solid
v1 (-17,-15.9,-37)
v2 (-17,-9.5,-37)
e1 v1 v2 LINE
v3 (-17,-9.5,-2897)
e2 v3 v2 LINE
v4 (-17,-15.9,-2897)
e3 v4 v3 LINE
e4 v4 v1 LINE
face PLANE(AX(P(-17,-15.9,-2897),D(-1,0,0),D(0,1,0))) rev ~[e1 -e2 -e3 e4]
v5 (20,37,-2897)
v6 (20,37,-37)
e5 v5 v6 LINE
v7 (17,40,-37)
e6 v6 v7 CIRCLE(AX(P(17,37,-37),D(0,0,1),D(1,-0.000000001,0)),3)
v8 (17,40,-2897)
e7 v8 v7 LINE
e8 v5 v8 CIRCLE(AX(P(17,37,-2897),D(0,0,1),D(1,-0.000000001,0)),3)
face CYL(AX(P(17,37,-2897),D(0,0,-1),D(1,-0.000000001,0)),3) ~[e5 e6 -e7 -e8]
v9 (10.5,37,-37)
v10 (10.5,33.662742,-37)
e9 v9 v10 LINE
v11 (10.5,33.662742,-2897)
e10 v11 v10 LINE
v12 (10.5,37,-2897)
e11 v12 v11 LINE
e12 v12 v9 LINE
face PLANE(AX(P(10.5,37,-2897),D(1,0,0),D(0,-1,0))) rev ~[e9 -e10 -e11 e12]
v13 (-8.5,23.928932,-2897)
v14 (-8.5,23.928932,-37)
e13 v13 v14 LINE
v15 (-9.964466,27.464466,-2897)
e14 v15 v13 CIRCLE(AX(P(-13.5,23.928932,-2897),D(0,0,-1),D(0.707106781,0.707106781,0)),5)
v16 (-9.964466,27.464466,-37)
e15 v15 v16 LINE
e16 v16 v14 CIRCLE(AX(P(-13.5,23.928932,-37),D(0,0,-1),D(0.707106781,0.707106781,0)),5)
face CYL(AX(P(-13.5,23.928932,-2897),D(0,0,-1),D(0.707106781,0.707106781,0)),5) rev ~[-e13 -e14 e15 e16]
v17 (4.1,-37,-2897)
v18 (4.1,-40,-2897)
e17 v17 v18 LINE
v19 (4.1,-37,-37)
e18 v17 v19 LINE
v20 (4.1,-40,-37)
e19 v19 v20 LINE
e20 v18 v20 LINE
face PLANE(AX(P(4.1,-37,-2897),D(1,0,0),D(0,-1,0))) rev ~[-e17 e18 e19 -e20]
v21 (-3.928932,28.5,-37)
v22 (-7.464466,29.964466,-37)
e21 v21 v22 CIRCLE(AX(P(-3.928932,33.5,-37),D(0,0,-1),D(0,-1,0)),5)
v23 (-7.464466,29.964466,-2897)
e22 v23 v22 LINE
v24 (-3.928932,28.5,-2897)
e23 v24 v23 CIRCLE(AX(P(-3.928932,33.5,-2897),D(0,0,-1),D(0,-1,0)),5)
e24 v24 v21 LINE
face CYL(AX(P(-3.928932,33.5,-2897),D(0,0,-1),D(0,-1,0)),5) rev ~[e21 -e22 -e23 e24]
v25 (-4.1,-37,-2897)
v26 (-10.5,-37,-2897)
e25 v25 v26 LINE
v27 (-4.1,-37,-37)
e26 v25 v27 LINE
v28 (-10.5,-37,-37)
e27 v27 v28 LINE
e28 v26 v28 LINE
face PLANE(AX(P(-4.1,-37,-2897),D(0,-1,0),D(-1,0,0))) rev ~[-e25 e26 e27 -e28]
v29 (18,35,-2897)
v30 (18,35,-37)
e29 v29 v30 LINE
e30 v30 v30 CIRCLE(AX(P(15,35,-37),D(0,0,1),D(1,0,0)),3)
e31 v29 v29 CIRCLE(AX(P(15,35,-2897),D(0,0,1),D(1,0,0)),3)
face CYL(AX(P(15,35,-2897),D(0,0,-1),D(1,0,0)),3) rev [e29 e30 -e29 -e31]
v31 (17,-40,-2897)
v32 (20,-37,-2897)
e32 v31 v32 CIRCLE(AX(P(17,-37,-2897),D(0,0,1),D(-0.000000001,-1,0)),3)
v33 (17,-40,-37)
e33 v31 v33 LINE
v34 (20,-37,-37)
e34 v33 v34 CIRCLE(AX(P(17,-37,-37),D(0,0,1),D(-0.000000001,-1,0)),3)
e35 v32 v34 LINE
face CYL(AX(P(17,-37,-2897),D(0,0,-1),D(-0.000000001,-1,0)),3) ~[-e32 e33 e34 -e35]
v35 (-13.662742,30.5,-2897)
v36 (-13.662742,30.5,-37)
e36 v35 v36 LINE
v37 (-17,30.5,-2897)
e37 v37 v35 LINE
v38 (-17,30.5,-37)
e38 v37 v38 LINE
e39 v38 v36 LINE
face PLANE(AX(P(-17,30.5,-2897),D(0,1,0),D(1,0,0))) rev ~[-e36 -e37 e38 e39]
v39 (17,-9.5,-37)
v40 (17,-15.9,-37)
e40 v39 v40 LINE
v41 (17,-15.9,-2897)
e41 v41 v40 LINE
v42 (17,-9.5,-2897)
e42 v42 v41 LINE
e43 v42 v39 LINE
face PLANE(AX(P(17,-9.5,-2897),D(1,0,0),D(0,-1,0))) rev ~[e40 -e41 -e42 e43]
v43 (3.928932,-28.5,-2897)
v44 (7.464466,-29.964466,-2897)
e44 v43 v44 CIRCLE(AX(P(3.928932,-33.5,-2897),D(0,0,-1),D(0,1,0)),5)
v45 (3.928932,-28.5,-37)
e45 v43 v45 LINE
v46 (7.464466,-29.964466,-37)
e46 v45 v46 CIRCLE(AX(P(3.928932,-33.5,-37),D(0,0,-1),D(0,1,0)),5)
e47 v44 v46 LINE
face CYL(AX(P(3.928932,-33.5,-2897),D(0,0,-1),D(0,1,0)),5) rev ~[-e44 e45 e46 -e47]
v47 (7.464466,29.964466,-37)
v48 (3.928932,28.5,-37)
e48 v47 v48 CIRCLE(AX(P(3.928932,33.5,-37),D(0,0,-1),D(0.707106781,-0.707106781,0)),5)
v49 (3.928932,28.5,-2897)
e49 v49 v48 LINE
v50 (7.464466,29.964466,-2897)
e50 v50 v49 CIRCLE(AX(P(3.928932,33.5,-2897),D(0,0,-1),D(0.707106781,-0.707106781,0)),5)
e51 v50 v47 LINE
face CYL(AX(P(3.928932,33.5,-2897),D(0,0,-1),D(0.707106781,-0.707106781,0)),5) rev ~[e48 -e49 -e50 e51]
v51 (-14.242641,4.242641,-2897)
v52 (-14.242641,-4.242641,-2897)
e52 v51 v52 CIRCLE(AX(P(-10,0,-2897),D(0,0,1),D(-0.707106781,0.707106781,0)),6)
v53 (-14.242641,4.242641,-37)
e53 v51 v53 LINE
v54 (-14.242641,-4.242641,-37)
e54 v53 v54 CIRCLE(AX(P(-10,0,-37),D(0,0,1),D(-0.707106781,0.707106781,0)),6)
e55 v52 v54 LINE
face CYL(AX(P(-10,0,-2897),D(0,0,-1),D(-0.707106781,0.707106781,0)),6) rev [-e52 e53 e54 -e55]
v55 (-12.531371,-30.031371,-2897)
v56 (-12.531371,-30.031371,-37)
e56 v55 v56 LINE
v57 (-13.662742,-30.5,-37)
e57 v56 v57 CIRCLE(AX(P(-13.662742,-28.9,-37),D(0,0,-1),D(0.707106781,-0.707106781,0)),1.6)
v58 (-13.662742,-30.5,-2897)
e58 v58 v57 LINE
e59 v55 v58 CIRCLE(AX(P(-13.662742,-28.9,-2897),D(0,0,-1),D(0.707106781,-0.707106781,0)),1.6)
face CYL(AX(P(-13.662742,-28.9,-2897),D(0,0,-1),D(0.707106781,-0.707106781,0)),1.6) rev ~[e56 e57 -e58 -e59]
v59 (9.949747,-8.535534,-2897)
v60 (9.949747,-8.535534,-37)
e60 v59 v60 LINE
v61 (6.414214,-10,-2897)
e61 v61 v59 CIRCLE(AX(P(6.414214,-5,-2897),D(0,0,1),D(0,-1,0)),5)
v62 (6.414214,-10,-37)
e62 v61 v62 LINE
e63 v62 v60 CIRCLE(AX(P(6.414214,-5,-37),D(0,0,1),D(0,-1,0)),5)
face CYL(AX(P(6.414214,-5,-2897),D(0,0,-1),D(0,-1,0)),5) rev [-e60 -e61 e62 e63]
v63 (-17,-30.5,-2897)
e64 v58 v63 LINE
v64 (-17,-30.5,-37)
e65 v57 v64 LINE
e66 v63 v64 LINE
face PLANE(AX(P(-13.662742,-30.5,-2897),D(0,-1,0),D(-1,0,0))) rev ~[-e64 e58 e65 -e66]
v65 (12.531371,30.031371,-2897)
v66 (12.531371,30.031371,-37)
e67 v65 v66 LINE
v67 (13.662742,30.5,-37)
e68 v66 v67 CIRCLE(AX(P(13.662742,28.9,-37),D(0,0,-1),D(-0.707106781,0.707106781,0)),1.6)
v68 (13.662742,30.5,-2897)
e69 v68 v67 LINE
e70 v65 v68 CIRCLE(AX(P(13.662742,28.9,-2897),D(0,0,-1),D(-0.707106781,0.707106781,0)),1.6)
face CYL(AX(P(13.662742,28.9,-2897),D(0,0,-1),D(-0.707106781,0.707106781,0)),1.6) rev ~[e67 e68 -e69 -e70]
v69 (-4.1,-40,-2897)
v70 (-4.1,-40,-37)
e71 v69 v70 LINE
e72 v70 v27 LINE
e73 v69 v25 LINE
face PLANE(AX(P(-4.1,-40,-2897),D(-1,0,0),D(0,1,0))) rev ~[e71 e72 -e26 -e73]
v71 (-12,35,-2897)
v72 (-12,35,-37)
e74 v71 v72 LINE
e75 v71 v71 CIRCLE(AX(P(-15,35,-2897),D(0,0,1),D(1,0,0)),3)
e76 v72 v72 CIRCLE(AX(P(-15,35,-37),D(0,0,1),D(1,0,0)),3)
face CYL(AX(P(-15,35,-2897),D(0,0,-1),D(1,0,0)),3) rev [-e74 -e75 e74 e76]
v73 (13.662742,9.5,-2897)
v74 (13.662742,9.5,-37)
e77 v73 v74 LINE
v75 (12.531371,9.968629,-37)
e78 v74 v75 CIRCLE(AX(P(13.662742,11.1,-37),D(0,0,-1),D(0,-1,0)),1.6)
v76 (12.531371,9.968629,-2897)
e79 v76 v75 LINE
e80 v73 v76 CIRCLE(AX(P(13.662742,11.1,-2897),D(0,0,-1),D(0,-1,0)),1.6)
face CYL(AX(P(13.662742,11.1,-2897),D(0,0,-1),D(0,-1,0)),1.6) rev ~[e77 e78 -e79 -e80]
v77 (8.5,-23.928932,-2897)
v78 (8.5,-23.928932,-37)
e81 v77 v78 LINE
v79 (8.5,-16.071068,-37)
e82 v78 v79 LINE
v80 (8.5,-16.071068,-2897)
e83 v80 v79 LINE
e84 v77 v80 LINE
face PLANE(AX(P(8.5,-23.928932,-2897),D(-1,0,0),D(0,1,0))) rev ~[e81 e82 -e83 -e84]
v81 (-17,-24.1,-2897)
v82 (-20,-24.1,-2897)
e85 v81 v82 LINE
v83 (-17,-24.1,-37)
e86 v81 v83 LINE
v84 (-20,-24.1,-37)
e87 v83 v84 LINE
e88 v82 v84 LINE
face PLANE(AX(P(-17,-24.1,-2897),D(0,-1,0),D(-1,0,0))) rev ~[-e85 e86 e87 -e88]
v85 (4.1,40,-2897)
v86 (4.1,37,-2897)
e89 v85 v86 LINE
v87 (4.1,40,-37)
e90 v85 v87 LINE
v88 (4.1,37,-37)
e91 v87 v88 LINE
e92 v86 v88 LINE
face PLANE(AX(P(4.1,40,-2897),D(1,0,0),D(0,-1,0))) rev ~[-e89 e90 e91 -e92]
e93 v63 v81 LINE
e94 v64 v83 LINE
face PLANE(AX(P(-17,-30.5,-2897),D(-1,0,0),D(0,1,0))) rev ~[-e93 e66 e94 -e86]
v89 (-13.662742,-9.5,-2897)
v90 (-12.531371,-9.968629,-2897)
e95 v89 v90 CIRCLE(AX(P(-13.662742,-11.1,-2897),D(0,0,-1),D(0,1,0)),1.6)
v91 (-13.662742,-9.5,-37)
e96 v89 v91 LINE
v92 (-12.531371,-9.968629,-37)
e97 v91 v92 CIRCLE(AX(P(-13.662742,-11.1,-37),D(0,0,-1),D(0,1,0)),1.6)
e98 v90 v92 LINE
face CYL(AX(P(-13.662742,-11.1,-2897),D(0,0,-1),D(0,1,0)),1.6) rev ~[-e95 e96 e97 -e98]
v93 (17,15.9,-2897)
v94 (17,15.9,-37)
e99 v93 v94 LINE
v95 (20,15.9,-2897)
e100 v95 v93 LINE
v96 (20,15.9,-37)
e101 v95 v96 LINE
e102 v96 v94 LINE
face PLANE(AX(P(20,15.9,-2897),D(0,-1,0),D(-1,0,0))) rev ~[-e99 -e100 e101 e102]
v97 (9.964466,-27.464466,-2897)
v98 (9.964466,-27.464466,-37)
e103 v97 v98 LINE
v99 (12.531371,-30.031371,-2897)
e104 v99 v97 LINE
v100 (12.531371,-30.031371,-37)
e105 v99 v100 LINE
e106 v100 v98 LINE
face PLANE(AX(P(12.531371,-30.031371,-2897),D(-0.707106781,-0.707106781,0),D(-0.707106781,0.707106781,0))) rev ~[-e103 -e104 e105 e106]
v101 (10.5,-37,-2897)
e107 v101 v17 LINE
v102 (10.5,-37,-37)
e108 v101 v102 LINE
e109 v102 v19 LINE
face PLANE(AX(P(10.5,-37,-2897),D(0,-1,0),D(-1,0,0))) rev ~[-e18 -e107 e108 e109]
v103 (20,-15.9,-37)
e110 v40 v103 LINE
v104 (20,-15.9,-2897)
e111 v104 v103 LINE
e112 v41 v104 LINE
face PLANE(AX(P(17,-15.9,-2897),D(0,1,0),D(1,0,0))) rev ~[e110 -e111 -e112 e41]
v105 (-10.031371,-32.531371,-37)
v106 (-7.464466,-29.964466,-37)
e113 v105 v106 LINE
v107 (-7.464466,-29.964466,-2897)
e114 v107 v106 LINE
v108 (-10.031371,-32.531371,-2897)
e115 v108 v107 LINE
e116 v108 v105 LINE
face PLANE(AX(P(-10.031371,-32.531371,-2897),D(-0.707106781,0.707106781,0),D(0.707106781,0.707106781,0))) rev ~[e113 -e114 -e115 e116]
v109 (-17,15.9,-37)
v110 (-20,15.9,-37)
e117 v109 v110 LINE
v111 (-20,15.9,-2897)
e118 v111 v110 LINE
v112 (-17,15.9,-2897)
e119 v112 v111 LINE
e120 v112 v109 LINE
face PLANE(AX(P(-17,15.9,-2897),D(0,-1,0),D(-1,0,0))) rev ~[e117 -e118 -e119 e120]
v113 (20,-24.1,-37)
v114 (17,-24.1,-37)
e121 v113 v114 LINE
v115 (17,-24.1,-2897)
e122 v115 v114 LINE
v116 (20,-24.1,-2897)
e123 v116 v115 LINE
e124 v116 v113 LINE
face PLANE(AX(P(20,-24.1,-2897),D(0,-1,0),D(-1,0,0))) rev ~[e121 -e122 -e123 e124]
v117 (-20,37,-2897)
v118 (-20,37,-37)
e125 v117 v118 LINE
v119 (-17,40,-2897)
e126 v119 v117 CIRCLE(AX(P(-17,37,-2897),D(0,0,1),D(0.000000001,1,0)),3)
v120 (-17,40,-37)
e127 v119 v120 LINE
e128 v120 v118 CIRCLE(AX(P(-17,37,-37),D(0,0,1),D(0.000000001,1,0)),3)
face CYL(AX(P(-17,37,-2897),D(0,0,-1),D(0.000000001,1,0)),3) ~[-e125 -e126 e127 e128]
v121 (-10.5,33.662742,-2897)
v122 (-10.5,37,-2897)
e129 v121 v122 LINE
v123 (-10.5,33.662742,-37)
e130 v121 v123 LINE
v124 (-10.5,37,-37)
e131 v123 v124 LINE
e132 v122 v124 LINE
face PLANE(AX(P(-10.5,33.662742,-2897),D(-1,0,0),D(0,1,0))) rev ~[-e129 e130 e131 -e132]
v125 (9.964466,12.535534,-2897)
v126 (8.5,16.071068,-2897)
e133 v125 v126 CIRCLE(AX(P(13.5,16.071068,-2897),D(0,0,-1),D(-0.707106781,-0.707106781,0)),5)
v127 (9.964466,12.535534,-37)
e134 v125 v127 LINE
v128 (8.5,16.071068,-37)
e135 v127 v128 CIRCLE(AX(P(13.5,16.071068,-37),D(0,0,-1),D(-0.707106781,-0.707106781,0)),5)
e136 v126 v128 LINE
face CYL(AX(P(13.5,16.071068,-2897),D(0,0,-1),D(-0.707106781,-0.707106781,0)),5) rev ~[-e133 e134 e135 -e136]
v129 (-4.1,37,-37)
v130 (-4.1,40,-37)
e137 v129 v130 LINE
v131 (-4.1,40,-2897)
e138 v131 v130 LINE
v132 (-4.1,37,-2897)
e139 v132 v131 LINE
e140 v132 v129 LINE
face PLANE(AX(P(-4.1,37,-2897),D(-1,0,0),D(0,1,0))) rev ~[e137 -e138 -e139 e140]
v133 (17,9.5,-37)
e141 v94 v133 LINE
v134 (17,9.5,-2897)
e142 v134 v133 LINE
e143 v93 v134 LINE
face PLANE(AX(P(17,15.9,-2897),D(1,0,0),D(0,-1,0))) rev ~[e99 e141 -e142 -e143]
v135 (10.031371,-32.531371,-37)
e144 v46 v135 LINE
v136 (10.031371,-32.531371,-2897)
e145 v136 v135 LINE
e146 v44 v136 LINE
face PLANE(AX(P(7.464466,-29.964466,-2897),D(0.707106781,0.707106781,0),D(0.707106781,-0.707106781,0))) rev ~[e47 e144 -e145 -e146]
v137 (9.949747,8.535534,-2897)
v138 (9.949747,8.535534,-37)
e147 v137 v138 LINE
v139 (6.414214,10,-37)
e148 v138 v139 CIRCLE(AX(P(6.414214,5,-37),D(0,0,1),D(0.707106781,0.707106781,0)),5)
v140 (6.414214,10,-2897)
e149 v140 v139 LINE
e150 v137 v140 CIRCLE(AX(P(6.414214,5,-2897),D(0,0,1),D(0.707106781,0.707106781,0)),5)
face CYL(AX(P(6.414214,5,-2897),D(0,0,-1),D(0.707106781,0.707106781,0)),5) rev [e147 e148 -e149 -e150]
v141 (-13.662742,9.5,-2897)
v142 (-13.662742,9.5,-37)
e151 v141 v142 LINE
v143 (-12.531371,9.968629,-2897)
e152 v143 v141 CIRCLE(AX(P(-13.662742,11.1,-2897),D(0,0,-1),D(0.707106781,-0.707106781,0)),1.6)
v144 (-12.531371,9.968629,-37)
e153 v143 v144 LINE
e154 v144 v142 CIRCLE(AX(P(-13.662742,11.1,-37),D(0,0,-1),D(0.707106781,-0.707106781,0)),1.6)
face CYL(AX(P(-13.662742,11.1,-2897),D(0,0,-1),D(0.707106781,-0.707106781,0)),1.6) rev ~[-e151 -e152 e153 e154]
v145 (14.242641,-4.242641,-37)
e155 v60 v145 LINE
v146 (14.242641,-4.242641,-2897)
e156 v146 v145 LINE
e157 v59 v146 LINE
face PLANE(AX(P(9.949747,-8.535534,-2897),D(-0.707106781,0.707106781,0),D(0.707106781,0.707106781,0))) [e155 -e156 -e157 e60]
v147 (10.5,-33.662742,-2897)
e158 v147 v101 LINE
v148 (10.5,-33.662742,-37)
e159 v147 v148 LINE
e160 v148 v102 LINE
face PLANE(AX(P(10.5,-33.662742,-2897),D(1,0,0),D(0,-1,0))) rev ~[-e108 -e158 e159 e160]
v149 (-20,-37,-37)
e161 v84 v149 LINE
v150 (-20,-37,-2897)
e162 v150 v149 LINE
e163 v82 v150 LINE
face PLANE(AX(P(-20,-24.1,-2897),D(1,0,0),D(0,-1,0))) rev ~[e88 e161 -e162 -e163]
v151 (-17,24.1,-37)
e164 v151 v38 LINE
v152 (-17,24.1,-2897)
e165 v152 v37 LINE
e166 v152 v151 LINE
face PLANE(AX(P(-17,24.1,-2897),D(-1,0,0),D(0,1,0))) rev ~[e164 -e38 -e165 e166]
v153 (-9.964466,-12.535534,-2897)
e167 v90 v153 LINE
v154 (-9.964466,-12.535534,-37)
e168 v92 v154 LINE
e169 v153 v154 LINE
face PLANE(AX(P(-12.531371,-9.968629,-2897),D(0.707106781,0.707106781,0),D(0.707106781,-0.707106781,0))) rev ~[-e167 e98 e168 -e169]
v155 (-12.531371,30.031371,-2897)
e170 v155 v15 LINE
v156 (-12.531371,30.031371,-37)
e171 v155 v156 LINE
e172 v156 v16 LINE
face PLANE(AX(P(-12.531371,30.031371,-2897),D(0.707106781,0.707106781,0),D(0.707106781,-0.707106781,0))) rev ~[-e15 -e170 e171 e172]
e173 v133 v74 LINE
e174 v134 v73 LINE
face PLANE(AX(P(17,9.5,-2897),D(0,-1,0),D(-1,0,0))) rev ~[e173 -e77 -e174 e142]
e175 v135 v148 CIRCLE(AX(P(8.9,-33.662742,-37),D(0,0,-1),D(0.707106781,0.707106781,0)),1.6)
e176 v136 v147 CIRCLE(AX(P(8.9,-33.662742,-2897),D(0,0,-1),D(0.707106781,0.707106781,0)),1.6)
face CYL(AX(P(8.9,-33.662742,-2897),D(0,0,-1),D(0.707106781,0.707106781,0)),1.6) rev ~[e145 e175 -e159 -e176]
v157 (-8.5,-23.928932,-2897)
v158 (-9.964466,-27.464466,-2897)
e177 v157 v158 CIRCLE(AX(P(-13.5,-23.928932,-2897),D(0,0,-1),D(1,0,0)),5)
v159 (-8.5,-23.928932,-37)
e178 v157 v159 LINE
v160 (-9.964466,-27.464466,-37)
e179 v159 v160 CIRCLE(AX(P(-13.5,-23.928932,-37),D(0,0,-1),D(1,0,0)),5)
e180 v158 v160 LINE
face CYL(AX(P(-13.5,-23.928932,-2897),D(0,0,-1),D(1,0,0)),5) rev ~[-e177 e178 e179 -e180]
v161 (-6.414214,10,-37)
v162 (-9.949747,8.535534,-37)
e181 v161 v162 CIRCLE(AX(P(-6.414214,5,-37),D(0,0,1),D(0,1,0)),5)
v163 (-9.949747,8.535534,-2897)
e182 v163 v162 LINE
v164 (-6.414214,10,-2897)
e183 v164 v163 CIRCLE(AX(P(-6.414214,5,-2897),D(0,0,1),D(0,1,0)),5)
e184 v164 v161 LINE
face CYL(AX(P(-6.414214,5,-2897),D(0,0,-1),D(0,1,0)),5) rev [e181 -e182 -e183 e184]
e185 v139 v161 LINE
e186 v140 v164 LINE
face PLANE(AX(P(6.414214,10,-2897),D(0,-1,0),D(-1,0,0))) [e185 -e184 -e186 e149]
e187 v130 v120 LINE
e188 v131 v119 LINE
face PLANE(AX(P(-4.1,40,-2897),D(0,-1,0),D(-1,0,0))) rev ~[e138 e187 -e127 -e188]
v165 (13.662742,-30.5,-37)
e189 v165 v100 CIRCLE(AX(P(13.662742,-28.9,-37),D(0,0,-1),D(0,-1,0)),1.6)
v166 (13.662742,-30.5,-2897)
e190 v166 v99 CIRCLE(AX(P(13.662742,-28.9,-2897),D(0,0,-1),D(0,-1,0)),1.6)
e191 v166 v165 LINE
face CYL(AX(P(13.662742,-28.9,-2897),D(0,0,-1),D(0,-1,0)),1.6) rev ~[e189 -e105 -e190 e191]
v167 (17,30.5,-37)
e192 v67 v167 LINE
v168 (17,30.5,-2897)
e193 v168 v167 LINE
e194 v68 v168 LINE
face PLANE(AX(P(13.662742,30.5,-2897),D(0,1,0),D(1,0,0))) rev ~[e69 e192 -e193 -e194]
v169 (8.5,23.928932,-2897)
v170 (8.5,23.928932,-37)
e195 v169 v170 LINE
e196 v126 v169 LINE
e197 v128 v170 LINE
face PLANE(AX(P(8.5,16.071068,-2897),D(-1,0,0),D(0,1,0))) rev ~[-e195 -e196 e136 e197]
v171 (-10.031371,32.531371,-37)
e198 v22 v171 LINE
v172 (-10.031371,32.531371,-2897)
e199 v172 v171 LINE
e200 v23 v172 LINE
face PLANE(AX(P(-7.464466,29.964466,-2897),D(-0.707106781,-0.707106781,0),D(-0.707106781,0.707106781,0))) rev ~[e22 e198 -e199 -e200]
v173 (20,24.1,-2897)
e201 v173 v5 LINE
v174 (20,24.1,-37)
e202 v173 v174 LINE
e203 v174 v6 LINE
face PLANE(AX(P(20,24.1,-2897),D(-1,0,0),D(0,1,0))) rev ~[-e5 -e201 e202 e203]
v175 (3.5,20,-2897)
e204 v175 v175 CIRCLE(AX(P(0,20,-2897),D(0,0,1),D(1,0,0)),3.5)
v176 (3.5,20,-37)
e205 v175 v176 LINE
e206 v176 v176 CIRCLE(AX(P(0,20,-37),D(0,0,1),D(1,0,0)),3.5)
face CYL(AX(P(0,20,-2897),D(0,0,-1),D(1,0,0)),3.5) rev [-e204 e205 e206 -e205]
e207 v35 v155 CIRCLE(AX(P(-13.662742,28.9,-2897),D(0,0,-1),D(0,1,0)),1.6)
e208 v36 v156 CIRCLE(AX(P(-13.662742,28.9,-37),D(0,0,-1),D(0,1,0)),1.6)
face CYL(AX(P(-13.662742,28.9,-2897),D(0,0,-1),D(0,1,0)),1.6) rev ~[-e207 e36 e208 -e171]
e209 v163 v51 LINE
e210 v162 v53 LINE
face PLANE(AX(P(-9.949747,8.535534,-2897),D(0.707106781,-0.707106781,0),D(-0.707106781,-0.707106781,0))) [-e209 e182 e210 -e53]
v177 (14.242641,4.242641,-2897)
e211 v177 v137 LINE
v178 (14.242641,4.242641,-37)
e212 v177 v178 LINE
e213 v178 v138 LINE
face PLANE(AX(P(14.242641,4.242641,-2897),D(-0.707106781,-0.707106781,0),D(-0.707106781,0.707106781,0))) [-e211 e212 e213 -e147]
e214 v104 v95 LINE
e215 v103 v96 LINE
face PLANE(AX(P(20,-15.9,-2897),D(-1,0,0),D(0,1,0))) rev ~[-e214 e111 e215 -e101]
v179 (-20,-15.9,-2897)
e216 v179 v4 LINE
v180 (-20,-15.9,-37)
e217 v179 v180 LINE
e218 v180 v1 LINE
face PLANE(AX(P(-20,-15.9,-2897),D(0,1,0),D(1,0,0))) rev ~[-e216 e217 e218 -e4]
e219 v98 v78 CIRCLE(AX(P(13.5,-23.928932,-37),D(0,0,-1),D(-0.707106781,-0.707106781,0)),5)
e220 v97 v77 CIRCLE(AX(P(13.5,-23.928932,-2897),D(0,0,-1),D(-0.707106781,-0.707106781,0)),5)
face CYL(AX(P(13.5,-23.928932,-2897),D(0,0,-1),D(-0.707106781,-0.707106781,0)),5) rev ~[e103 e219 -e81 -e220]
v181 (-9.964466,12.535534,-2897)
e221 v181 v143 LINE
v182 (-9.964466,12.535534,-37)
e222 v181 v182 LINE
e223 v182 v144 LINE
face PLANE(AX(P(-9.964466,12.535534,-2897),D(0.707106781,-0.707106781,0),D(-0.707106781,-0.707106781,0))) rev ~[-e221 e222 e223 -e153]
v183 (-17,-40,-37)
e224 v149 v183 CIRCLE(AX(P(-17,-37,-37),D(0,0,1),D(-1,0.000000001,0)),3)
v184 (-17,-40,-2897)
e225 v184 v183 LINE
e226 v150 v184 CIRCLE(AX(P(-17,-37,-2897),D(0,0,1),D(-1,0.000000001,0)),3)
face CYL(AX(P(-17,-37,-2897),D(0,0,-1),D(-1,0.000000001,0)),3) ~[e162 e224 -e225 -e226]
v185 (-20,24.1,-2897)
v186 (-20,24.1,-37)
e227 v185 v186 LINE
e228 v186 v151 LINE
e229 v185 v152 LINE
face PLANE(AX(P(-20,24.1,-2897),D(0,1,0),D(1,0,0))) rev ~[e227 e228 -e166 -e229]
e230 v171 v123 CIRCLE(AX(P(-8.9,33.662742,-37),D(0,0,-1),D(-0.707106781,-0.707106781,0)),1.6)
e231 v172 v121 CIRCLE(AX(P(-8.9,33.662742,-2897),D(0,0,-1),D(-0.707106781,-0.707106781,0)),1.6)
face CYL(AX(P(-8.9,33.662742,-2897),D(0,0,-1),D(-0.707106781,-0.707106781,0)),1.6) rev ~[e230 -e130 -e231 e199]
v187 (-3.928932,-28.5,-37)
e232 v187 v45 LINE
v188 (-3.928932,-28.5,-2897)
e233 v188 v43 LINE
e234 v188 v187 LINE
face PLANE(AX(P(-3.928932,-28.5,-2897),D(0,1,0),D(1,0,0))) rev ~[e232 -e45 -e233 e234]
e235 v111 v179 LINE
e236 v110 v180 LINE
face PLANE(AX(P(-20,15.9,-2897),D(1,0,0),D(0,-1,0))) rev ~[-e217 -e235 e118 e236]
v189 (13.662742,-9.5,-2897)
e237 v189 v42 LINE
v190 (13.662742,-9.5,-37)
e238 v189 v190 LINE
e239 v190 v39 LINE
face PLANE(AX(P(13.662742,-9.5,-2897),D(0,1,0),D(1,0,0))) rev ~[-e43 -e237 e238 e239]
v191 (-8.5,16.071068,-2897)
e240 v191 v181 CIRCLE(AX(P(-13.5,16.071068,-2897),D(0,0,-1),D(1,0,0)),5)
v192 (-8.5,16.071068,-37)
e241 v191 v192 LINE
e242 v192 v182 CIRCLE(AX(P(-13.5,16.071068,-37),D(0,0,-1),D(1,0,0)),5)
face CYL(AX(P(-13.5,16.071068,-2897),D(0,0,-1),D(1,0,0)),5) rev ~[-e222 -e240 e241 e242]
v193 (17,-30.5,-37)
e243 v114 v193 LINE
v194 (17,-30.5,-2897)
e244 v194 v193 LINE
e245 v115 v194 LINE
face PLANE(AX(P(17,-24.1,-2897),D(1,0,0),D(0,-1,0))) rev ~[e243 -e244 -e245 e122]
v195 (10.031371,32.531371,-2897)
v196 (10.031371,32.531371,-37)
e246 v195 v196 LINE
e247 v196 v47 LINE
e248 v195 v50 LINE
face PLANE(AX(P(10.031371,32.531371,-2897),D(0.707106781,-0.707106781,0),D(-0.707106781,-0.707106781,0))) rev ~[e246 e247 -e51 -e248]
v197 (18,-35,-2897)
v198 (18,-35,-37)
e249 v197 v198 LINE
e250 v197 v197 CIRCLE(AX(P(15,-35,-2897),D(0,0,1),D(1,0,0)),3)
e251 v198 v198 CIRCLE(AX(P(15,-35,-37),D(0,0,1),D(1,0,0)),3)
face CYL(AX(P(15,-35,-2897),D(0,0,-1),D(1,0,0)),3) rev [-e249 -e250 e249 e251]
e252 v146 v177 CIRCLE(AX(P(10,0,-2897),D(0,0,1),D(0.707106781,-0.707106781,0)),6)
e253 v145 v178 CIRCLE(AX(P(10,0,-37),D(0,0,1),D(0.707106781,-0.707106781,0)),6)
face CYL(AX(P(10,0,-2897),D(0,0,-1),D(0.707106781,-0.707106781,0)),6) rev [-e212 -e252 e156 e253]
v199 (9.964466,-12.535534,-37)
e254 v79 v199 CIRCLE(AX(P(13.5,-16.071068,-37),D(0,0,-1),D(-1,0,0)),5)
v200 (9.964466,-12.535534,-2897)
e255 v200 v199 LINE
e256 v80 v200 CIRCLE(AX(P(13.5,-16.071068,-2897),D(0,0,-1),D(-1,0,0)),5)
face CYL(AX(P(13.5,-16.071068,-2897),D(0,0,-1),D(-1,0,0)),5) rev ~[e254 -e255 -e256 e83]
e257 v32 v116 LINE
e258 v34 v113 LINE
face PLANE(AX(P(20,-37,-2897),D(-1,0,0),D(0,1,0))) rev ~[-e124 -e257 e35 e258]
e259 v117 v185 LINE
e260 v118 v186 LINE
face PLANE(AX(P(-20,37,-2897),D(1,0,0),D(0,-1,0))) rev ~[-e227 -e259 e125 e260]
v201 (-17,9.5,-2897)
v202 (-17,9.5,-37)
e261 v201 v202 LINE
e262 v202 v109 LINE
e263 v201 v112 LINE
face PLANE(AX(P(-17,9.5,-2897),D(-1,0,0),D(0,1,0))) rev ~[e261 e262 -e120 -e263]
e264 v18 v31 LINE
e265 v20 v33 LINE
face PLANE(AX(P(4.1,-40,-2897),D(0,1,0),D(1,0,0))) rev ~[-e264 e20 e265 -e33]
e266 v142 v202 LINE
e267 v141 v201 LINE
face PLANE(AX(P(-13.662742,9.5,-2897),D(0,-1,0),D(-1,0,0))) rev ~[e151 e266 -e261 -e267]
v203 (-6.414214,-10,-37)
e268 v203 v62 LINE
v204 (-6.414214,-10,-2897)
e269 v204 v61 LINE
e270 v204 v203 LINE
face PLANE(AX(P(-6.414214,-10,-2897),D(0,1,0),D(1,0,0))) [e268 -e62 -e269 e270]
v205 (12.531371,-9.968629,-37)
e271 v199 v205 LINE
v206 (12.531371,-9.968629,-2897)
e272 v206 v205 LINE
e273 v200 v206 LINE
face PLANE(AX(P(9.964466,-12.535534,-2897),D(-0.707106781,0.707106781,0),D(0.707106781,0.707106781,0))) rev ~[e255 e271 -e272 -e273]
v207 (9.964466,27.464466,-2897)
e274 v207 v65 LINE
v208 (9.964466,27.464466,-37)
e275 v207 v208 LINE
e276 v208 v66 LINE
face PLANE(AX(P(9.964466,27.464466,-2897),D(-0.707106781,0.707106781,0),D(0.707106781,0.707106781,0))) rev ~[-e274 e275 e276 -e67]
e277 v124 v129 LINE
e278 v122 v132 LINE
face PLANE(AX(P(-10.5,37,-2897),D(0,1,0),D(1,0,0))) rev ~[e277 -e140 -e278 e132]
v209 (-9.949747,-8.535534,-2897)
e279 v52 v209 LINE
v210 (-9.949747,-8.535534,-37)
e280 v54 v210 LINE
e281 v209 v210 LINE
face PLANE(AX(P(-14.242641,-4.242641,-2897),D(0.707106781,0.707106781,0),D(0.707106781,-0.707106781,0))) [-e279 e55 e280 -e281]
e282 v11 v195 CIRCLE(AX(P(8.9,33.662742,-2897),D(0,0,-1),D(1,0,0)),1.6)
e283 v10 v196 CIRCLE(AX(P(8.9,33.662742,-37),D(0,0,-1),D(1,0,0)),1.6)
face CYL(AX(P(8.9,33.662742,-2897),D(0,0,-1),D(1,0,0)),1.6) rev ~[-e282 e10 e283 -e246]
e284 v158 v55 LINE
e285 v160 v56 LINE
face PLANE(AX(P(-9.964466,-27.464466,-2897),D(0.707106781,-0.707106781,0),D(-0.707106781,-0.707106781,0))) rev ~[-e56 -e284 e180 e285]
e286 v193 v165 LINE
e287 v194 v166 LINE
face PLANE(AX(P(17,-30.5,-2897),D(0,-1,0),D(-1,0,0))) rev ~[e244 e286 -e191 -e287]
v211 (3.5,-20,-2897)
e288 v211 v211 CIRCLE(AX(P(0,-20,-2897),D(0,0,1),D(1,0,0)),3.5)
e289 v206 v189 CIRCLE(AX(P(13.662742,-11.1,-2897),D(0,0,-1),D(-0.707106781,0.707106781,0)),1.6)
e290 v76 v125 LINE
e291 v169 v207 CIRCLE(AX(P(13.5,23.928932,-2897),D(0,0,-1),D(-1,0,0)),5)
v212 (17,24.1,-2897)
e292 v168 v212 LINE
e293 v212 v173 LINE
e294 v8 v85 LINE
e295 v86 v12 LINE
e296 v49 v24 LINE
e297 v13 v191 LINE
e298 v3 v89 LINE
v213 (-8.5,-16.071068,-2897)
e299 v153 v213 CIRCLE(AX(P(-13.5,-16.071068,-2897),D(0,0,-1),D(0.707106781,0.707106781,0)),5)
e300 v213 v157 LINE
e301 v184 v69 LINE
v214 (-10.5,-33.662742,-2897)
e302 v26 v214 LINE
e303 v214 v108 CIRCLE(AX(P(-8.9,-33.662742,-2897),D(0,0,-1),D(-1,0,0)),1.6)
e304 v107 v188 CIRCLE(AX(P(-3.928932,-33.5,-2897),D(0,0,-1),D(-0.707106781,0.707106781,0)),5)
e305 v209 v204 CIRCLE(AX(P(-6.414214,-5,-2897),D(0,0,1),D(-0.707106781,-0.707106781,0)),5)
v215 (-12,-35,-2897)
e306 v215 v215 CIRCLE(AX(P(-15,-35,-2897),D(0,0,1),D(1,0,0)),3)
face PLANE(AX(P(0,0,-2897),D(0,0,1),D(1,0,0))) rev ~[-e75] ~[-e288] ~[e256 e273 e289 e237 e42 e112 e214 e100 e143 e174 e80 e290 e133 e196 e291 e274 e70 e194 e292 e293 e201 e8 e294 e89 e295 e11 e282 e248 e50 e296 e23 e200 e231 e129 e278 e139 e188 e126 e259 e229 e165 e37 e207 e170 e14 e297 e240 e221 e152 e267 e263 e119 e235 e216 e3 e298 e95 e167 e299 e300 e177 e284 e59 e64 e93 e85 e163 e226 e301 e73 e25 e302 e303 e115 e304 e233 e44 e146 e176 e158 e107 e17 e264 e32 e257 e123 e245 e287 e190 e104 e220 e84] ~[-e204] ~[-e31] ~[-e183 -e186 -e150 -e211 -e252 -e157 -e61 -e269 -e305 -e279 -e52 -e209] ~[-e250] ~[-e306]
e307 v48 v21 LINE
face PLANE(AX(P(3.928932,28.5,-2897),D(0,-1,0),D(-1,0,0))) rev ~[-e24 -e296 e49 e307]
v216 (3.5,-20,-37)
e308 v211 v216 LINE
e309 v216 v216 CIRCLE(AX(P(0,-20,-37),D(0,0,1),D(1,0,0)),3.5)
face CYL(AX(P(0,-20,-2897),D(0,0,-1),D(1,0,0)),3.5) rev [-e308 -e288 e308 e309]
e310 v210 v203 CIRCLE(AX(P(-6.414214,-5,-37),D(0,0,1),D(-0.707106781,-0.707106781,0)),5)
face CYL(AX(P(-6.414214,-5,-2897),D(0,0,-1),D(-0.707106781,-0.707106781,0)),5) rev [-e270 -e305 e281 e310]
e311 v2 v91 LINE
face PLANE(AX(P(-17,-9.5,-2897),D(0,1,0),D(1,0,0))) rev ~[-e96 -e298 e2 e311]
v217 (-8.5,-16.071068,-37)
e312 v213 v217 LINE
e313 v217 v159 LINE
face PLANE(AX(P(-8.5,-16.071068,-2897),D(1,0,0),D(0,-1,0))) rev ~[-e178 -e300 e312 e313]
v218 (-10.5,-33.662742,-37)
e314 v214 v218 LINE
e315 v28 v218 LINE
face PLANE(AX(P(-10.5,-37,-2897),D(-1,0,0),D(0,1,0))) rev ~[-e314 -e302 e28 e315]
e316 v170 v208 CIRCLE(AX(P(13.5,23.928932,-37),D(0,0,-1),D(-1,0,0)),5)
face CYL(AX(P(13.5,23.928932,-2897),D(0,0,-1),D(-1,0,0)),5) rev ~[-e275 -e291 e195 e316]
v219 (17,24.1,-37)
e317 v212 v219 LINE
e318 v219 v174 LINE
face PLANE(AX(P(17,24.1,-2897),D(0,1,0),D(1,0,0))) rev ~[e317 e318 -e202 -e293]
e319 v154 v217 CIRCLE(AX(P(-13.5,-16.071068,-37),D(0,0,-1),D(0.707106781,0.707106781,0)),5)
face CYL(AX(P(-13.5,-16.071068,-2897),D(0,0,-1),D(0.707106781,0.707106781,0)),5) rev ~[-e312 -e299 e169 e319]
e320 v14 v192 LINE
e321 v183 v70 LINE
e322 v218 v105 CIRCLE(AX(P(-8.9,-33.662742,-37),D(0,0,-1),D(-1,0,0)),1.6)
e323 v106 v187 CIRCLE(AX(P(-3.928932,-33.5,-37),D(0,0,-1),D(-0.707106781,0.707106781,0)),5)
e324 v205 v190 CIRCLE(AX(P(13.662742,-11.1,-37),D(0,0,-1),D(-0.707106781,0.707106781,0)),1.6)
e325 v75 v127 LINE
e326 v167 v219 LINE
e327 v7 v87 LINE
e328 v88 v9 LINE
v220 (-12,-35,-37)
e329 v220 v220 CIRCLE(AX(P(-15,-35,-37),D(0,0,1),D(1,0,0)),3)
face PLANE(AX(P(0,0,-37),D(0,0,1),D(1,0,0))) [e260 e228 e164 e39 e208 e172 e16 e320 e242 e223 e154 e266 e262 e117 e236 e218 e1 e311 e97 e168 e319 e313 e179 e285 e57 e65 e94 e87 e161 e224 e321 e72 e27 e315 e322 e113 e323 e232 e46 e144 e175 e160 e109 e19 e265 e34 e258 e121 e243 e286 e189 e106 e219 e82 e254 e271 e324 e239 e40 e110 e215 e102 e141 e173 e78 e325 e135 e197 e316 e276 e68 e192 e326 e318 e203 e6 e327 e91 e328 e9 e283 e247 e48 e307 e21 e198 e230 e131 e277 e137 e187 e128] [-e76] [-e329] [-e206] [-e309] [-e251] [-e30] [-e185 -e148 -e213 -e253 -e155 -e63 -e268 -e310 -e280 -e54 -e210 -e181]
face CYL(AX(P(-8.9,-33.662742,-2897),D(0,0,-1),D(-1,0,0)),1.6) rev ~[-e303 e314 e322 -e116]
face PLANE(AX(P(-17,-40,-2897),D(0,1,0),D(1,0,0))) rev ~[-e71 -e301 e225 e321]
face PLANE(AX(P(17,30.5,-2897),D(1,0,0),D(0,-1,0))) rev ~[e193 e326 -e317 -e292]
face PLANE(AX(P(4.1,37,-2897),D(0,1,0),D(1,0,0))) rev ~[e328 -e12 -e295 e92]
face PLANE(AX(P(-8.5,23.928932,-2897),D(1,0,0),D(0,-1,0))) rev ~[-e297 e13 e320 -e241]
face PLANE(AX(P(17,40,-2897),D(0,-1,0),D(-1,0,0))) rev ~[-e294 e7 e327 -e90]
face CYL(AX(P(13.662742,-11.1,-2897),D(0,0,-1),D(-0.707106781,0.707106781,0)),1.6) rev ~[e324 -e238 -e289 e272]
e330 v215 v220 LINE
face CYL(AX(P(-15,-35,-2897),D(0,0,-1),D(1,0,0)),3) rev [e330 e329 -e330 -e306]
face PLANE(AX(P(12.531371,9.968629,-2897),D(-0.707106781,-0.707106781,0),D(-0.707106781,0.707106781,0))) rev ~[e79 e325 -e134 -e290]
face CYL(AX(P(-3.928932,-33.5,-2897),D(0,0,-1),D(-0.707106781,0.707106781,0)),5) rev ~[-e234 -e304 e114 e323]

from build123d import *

# Parameters (mm, degrees)
SKETCH1_R           = 3
SKETCH1_R_2         = 3.5
BOSS_EXTRUDE1_DEPTH = 2860


with BuildPart() as part:
    # Sketch1 → Boss-Extrude1 (new body)
    with BuildSketch(Plane.XY.offset(-2897)):
        with BuildLine():
            Line((-17, -40), (-4.1, -40))
            Line((-4.1, -40), (-4.1, -37))
            Line((-4.1, -37), (-10.5, -37))
            Line((-10.5, -37), (-10.5, -33.6627417))
            ThreePointArc((-10.5, -33.6627417), (-10.378207252, -33.050448208), (-10.03137085, -32.53137085))
            Line((-10.03137085, -32.53137085), (-7.464466094, -29.964466094))
            ThreePointArc((-7.464466094, -29.964466094), (-5.84234935, -28.880602337), (-3.928932188, -28.5))
            Line((-3.928932188, -28.5), (3.928932188, -28.5))
            ThreePointArc((3.928932188, -28.5), (5.84234935, -28.880602337), (7.464466094, -29.964466094))
            Line((7.464466094, -29.964466094), (10.03137085, -32.53137085))
            ThreePointArc((10.03137085, -32.53137085), (10.378207252, -33.050448208), (10.5, -33.6627417))
            Line((10.5, -33.6627417), (10.5, -37))
            Line((10.5, -37), (4.1, -37))
            Line((4.1, -37), (4.1, -40))
            Line((4.1, -40), (17, -40))
            ThreePointArc((17, -40), (19.121320344, -39.121320344), (20, -37))
            Line((20, -37), (20, -24.1))
            Line((20, -24.1), (17, -24.1))
            Line((17, -24.1), (17, -30.5))
            Line((17, -30.5), (13.6627417, -30.5))
            ThreePointArc((13.6627417, -30.5), (13.050448208, -30.378207252), (12.53137085, -30.03137085))
            Line((12.53137085, -30.03137085), (9.964466094, -27.464466094))
            ThreePointArc((9.964466094, -27.464466094), (8.880602337, -25.84234935), (8.5, -23.928932188))
            Line((8.5, -23.928932188), (8.5, -16.071067812))
            ThreePointArc((8.5, -16.071067812), (8.880602337, -14.15765065), (9.964466094, -12.535533906))
            Line((9.964466094, -12.535533906), (12.53137085, -9.96862915))
            ThreePointArc((12.53137085, -9.96862915), (13.050448208, -9.621792748), (13.6627417, -9.5))
            Line((13.6627417, -9.5), (17, -9.5))
            Line((17, -9.5), (17, -15.9))
            Line((17, -15.9), (20, -15.9))
            Line((20, -15.9), (20, 15.9))
            Line((20, 15.9), (17, 15.9))
            Line((17, 15.9), (17, 9.5))
            Line((17, 9.5), (13.6627417, 9.5))
            ThreePointArc((13.6627417, 9.5), (13.050448208, 9.621792748), (12.53137085, 9.96862915))
            Line((12.53137085, 9.96862915), (9.964466094, 12.535533906))
            ThreePointArc((9.964466094, 12.535533906), (8.880602337, 14.15765065), (8.5, 16.071067812))
            Line((8.5, 16.071067812), (8.5, 23.928932188))
            ThreePointArc((8.5, 23.928932188), (8.880602337, 25.84234935), (9.964466094, 27.464466094))
            Line((9.964466094, 27.464466094), (12.53137085, 30.03137085))
            ThreePointArc((12.53137085, 30.03137085), (13.050448208, 30.378207252), (13.6627417, 30.5))
            Line((13.6627417, 30.5), (17, 30.5))
            Line((17, 30.5), (17, 24.1))
            Line((17, 24.1), (20, 24.1))
            Line((20, 24.1), (20, 37))
            ThreePointArc((20, 37), (19.121320344, 39.121320344), (17, 40))
            Line((17, 40), (4.1, 40))
            Line((4.1, 40), (4.1, 37))
            Line((4.1, 37), (10.5, 37))
            Line((10.5, 37), (10.5, 33.6627417))
            ThreePointArc((10.5, 33.6627417), (10.378207252, 33.050448208), (10.03137085, 32.53137085))
            Line((10.03137085, 32.53137085), (7.464466094, 29.964466094))
            ThreePointArc((7.464466094, 29.964466094), (5.84234935, 28.880602337), (3.928932188, 28.5))
            Line((3.928932188, 28.5), (-3.928932188, 28.5))
            ThreePointArc((-3.928932188, 28.5), (-5.84234935, 28.880602337), (-7.464466094, 29.964466094))
            Line((-7.464466094, 29.964466094), (-10.03137085, 32.53137085))
            ThreePointArc((-10.03137085, 32.53137085), (-10.378207252, 33.050448208), (-10.5, 33.6627417))
            Line((-10.5, 33.6627417), (-10.5, 37))
            Line((-10.5, 37), (-4.1, 37))
            Line((-4.1, 37), (-4.1, 40))
            Line((-4.1, 40), (-17, 40))
            ThreePointArc((-17, 40), (-19.121320344, 39.121320344), (-20, 37))
            Line((-20, 37), (-20, 24.1))
            Line((-20, 24.1), (-17, 24.1))
            Line((-17, 24.1), (-17, 30.5))
            Line((-17, 30.5), (-13.6627417, 30.5))
            ThreePointArc((-13.6627417, 30.5), (-13.050448208, 30.378207252), (-12.53137085, 30.03137085))
            Line((-12.53137085, 30.03137085), (-9.964466094, 27.464466094))
            ThreePointArc((-9.964466094, 27.464466094), (-8.880602337, 25.84234935), (-8.5, 23.928932188))
            Line((-8.5, 23.928932188), (-8.5, 16.071067812))
            ThreePointArc((-8.5, 16.071067812), (-8.880602337, 14.15765065), (-9.964466094, 12.535533906))
            Line((-9.964466094, 12.535533906), (-12.53137085, 9.96862915))
            ThreePointArc((-12.53137085, 9.96862915), (-13.050448208, 9.621792748), (-13.6627417, 9.5))
            Line((-13.6627417, 9.5), (-17, 9.5))
            Line((-17, 9.5), (-17, 15.9))
            Line((-17, 15.9), (-20, 15.9))
            Line((-20, 15.9), (-20, -15.9))
            Line((-20, -15.9), (-17, -15.9))
            Line((-17, -15.9), (-17, -9.5))
            Line((-17, -9.5), (-13.6627417, -9.5))
            ThreePointArc((-13.6627417, -9.5), (-13.050448208, -9.621792748), (-12.53137085, -9.96862915))
            Line((-12.53137085, -9.96862915), (-9.964466094, -12.535533906))
            ThreePointArc((-9.964466094, -12.535533906), (-8.880602337, -14.15765065), (-8.5, -16.071067812))
            Line((-8.5, -16.071067812), (-8.5, -23.928932188))
            ThreePointArc((-8.5, -23.928932188), (-8.880602337, -25.84234935), (-9.964466094, -27.464466094))
            Line((-9.964466094, -27.464466094), (-12.53137085, -30.03137085))
            ThreePointArc((-12.53137085, -30.03137085), (-13.050448208, -30.378207252), (-13.6627417, -30.5))
            Line((-13.6627417, -30.5), (-17, -30.5))
            Line((-17, -30.5), (-17, -24.1))
            Line((-17, -24.1), (-20, -24.1))
            Line((-20, -24.1), (-20, -37))
            ThreePointArc((-20, -37), (-19.121320344, -39.121320344), (-17, -40))
        make_face()
        with Locations((15, 35)):
            Circle(SKETCH1_R, mode=Mode.SUBTRACT)
        with Locations((15, -35)):
            Circle(SKETCH1_R, mode=Mode.SUBTRACT)
        with Locations((0, 20)):
            Circle(SKETCH1_R_2, mode=Mode.SUBTRACT)
        with Locations((0, -20)):
            Circle(SKETCH1_R_2, mode=Mode.SUBTRACT)
        with Locations((-15, 35)):
            Circle(SKETCH1_R, mode=Mode.SUBTRACT)
        with Locations((-15, -35)):
            Circle(SKETCH1_R, mode=Mode.SUBTRACT)
        with BuildLine():
            Line((-14.242640687, -4.242640687), (-9.949747468, -8.535533906))
            ThreePointArc((-9.949747468, -8.535533906), (-8.327630724, -9.619397663), (-6.414213562, -10))
            Line((-6.414213562, -10), (6.414213562, -10))
            ThreePointArc((6.414213562, -10), (8.327630724, -9.619397663), (9.949747468, -8.535533906))
            Line((9.949747468, -8.535533906), (14.242640687, -4.242640687))
            ThreePointArc((14.242640687, -4.242640687), (16, 0), (14.242640687, 4.242640687))
            Line((14.242640687, 4.242640687), (9.949747468, 8.535533906))
            ThreePointArc((9.949747468, 8.535533906), (8.327630724, 9.619397663), (6.414213562, 10))
            Line((6.414213562, 10), (-6.414213562, 10))
            ThreePointArc((-6.414213562, 10), (-8.327630724, 9.619397663), (-9.949747468, 8.535533906))
            Line((-9.949747468, 8.535533906), (-14.242640687, 4.242640687))
            ThreePointArc((-14.242640687, 4.242640687), (-16, 0), (-14.242640687, -4.242640687))
        make_face(mode=Mode.SUBTRACT)
    extrude(amount=BOSS_EXTRUDE1_DEPTH)


solid = part.part
